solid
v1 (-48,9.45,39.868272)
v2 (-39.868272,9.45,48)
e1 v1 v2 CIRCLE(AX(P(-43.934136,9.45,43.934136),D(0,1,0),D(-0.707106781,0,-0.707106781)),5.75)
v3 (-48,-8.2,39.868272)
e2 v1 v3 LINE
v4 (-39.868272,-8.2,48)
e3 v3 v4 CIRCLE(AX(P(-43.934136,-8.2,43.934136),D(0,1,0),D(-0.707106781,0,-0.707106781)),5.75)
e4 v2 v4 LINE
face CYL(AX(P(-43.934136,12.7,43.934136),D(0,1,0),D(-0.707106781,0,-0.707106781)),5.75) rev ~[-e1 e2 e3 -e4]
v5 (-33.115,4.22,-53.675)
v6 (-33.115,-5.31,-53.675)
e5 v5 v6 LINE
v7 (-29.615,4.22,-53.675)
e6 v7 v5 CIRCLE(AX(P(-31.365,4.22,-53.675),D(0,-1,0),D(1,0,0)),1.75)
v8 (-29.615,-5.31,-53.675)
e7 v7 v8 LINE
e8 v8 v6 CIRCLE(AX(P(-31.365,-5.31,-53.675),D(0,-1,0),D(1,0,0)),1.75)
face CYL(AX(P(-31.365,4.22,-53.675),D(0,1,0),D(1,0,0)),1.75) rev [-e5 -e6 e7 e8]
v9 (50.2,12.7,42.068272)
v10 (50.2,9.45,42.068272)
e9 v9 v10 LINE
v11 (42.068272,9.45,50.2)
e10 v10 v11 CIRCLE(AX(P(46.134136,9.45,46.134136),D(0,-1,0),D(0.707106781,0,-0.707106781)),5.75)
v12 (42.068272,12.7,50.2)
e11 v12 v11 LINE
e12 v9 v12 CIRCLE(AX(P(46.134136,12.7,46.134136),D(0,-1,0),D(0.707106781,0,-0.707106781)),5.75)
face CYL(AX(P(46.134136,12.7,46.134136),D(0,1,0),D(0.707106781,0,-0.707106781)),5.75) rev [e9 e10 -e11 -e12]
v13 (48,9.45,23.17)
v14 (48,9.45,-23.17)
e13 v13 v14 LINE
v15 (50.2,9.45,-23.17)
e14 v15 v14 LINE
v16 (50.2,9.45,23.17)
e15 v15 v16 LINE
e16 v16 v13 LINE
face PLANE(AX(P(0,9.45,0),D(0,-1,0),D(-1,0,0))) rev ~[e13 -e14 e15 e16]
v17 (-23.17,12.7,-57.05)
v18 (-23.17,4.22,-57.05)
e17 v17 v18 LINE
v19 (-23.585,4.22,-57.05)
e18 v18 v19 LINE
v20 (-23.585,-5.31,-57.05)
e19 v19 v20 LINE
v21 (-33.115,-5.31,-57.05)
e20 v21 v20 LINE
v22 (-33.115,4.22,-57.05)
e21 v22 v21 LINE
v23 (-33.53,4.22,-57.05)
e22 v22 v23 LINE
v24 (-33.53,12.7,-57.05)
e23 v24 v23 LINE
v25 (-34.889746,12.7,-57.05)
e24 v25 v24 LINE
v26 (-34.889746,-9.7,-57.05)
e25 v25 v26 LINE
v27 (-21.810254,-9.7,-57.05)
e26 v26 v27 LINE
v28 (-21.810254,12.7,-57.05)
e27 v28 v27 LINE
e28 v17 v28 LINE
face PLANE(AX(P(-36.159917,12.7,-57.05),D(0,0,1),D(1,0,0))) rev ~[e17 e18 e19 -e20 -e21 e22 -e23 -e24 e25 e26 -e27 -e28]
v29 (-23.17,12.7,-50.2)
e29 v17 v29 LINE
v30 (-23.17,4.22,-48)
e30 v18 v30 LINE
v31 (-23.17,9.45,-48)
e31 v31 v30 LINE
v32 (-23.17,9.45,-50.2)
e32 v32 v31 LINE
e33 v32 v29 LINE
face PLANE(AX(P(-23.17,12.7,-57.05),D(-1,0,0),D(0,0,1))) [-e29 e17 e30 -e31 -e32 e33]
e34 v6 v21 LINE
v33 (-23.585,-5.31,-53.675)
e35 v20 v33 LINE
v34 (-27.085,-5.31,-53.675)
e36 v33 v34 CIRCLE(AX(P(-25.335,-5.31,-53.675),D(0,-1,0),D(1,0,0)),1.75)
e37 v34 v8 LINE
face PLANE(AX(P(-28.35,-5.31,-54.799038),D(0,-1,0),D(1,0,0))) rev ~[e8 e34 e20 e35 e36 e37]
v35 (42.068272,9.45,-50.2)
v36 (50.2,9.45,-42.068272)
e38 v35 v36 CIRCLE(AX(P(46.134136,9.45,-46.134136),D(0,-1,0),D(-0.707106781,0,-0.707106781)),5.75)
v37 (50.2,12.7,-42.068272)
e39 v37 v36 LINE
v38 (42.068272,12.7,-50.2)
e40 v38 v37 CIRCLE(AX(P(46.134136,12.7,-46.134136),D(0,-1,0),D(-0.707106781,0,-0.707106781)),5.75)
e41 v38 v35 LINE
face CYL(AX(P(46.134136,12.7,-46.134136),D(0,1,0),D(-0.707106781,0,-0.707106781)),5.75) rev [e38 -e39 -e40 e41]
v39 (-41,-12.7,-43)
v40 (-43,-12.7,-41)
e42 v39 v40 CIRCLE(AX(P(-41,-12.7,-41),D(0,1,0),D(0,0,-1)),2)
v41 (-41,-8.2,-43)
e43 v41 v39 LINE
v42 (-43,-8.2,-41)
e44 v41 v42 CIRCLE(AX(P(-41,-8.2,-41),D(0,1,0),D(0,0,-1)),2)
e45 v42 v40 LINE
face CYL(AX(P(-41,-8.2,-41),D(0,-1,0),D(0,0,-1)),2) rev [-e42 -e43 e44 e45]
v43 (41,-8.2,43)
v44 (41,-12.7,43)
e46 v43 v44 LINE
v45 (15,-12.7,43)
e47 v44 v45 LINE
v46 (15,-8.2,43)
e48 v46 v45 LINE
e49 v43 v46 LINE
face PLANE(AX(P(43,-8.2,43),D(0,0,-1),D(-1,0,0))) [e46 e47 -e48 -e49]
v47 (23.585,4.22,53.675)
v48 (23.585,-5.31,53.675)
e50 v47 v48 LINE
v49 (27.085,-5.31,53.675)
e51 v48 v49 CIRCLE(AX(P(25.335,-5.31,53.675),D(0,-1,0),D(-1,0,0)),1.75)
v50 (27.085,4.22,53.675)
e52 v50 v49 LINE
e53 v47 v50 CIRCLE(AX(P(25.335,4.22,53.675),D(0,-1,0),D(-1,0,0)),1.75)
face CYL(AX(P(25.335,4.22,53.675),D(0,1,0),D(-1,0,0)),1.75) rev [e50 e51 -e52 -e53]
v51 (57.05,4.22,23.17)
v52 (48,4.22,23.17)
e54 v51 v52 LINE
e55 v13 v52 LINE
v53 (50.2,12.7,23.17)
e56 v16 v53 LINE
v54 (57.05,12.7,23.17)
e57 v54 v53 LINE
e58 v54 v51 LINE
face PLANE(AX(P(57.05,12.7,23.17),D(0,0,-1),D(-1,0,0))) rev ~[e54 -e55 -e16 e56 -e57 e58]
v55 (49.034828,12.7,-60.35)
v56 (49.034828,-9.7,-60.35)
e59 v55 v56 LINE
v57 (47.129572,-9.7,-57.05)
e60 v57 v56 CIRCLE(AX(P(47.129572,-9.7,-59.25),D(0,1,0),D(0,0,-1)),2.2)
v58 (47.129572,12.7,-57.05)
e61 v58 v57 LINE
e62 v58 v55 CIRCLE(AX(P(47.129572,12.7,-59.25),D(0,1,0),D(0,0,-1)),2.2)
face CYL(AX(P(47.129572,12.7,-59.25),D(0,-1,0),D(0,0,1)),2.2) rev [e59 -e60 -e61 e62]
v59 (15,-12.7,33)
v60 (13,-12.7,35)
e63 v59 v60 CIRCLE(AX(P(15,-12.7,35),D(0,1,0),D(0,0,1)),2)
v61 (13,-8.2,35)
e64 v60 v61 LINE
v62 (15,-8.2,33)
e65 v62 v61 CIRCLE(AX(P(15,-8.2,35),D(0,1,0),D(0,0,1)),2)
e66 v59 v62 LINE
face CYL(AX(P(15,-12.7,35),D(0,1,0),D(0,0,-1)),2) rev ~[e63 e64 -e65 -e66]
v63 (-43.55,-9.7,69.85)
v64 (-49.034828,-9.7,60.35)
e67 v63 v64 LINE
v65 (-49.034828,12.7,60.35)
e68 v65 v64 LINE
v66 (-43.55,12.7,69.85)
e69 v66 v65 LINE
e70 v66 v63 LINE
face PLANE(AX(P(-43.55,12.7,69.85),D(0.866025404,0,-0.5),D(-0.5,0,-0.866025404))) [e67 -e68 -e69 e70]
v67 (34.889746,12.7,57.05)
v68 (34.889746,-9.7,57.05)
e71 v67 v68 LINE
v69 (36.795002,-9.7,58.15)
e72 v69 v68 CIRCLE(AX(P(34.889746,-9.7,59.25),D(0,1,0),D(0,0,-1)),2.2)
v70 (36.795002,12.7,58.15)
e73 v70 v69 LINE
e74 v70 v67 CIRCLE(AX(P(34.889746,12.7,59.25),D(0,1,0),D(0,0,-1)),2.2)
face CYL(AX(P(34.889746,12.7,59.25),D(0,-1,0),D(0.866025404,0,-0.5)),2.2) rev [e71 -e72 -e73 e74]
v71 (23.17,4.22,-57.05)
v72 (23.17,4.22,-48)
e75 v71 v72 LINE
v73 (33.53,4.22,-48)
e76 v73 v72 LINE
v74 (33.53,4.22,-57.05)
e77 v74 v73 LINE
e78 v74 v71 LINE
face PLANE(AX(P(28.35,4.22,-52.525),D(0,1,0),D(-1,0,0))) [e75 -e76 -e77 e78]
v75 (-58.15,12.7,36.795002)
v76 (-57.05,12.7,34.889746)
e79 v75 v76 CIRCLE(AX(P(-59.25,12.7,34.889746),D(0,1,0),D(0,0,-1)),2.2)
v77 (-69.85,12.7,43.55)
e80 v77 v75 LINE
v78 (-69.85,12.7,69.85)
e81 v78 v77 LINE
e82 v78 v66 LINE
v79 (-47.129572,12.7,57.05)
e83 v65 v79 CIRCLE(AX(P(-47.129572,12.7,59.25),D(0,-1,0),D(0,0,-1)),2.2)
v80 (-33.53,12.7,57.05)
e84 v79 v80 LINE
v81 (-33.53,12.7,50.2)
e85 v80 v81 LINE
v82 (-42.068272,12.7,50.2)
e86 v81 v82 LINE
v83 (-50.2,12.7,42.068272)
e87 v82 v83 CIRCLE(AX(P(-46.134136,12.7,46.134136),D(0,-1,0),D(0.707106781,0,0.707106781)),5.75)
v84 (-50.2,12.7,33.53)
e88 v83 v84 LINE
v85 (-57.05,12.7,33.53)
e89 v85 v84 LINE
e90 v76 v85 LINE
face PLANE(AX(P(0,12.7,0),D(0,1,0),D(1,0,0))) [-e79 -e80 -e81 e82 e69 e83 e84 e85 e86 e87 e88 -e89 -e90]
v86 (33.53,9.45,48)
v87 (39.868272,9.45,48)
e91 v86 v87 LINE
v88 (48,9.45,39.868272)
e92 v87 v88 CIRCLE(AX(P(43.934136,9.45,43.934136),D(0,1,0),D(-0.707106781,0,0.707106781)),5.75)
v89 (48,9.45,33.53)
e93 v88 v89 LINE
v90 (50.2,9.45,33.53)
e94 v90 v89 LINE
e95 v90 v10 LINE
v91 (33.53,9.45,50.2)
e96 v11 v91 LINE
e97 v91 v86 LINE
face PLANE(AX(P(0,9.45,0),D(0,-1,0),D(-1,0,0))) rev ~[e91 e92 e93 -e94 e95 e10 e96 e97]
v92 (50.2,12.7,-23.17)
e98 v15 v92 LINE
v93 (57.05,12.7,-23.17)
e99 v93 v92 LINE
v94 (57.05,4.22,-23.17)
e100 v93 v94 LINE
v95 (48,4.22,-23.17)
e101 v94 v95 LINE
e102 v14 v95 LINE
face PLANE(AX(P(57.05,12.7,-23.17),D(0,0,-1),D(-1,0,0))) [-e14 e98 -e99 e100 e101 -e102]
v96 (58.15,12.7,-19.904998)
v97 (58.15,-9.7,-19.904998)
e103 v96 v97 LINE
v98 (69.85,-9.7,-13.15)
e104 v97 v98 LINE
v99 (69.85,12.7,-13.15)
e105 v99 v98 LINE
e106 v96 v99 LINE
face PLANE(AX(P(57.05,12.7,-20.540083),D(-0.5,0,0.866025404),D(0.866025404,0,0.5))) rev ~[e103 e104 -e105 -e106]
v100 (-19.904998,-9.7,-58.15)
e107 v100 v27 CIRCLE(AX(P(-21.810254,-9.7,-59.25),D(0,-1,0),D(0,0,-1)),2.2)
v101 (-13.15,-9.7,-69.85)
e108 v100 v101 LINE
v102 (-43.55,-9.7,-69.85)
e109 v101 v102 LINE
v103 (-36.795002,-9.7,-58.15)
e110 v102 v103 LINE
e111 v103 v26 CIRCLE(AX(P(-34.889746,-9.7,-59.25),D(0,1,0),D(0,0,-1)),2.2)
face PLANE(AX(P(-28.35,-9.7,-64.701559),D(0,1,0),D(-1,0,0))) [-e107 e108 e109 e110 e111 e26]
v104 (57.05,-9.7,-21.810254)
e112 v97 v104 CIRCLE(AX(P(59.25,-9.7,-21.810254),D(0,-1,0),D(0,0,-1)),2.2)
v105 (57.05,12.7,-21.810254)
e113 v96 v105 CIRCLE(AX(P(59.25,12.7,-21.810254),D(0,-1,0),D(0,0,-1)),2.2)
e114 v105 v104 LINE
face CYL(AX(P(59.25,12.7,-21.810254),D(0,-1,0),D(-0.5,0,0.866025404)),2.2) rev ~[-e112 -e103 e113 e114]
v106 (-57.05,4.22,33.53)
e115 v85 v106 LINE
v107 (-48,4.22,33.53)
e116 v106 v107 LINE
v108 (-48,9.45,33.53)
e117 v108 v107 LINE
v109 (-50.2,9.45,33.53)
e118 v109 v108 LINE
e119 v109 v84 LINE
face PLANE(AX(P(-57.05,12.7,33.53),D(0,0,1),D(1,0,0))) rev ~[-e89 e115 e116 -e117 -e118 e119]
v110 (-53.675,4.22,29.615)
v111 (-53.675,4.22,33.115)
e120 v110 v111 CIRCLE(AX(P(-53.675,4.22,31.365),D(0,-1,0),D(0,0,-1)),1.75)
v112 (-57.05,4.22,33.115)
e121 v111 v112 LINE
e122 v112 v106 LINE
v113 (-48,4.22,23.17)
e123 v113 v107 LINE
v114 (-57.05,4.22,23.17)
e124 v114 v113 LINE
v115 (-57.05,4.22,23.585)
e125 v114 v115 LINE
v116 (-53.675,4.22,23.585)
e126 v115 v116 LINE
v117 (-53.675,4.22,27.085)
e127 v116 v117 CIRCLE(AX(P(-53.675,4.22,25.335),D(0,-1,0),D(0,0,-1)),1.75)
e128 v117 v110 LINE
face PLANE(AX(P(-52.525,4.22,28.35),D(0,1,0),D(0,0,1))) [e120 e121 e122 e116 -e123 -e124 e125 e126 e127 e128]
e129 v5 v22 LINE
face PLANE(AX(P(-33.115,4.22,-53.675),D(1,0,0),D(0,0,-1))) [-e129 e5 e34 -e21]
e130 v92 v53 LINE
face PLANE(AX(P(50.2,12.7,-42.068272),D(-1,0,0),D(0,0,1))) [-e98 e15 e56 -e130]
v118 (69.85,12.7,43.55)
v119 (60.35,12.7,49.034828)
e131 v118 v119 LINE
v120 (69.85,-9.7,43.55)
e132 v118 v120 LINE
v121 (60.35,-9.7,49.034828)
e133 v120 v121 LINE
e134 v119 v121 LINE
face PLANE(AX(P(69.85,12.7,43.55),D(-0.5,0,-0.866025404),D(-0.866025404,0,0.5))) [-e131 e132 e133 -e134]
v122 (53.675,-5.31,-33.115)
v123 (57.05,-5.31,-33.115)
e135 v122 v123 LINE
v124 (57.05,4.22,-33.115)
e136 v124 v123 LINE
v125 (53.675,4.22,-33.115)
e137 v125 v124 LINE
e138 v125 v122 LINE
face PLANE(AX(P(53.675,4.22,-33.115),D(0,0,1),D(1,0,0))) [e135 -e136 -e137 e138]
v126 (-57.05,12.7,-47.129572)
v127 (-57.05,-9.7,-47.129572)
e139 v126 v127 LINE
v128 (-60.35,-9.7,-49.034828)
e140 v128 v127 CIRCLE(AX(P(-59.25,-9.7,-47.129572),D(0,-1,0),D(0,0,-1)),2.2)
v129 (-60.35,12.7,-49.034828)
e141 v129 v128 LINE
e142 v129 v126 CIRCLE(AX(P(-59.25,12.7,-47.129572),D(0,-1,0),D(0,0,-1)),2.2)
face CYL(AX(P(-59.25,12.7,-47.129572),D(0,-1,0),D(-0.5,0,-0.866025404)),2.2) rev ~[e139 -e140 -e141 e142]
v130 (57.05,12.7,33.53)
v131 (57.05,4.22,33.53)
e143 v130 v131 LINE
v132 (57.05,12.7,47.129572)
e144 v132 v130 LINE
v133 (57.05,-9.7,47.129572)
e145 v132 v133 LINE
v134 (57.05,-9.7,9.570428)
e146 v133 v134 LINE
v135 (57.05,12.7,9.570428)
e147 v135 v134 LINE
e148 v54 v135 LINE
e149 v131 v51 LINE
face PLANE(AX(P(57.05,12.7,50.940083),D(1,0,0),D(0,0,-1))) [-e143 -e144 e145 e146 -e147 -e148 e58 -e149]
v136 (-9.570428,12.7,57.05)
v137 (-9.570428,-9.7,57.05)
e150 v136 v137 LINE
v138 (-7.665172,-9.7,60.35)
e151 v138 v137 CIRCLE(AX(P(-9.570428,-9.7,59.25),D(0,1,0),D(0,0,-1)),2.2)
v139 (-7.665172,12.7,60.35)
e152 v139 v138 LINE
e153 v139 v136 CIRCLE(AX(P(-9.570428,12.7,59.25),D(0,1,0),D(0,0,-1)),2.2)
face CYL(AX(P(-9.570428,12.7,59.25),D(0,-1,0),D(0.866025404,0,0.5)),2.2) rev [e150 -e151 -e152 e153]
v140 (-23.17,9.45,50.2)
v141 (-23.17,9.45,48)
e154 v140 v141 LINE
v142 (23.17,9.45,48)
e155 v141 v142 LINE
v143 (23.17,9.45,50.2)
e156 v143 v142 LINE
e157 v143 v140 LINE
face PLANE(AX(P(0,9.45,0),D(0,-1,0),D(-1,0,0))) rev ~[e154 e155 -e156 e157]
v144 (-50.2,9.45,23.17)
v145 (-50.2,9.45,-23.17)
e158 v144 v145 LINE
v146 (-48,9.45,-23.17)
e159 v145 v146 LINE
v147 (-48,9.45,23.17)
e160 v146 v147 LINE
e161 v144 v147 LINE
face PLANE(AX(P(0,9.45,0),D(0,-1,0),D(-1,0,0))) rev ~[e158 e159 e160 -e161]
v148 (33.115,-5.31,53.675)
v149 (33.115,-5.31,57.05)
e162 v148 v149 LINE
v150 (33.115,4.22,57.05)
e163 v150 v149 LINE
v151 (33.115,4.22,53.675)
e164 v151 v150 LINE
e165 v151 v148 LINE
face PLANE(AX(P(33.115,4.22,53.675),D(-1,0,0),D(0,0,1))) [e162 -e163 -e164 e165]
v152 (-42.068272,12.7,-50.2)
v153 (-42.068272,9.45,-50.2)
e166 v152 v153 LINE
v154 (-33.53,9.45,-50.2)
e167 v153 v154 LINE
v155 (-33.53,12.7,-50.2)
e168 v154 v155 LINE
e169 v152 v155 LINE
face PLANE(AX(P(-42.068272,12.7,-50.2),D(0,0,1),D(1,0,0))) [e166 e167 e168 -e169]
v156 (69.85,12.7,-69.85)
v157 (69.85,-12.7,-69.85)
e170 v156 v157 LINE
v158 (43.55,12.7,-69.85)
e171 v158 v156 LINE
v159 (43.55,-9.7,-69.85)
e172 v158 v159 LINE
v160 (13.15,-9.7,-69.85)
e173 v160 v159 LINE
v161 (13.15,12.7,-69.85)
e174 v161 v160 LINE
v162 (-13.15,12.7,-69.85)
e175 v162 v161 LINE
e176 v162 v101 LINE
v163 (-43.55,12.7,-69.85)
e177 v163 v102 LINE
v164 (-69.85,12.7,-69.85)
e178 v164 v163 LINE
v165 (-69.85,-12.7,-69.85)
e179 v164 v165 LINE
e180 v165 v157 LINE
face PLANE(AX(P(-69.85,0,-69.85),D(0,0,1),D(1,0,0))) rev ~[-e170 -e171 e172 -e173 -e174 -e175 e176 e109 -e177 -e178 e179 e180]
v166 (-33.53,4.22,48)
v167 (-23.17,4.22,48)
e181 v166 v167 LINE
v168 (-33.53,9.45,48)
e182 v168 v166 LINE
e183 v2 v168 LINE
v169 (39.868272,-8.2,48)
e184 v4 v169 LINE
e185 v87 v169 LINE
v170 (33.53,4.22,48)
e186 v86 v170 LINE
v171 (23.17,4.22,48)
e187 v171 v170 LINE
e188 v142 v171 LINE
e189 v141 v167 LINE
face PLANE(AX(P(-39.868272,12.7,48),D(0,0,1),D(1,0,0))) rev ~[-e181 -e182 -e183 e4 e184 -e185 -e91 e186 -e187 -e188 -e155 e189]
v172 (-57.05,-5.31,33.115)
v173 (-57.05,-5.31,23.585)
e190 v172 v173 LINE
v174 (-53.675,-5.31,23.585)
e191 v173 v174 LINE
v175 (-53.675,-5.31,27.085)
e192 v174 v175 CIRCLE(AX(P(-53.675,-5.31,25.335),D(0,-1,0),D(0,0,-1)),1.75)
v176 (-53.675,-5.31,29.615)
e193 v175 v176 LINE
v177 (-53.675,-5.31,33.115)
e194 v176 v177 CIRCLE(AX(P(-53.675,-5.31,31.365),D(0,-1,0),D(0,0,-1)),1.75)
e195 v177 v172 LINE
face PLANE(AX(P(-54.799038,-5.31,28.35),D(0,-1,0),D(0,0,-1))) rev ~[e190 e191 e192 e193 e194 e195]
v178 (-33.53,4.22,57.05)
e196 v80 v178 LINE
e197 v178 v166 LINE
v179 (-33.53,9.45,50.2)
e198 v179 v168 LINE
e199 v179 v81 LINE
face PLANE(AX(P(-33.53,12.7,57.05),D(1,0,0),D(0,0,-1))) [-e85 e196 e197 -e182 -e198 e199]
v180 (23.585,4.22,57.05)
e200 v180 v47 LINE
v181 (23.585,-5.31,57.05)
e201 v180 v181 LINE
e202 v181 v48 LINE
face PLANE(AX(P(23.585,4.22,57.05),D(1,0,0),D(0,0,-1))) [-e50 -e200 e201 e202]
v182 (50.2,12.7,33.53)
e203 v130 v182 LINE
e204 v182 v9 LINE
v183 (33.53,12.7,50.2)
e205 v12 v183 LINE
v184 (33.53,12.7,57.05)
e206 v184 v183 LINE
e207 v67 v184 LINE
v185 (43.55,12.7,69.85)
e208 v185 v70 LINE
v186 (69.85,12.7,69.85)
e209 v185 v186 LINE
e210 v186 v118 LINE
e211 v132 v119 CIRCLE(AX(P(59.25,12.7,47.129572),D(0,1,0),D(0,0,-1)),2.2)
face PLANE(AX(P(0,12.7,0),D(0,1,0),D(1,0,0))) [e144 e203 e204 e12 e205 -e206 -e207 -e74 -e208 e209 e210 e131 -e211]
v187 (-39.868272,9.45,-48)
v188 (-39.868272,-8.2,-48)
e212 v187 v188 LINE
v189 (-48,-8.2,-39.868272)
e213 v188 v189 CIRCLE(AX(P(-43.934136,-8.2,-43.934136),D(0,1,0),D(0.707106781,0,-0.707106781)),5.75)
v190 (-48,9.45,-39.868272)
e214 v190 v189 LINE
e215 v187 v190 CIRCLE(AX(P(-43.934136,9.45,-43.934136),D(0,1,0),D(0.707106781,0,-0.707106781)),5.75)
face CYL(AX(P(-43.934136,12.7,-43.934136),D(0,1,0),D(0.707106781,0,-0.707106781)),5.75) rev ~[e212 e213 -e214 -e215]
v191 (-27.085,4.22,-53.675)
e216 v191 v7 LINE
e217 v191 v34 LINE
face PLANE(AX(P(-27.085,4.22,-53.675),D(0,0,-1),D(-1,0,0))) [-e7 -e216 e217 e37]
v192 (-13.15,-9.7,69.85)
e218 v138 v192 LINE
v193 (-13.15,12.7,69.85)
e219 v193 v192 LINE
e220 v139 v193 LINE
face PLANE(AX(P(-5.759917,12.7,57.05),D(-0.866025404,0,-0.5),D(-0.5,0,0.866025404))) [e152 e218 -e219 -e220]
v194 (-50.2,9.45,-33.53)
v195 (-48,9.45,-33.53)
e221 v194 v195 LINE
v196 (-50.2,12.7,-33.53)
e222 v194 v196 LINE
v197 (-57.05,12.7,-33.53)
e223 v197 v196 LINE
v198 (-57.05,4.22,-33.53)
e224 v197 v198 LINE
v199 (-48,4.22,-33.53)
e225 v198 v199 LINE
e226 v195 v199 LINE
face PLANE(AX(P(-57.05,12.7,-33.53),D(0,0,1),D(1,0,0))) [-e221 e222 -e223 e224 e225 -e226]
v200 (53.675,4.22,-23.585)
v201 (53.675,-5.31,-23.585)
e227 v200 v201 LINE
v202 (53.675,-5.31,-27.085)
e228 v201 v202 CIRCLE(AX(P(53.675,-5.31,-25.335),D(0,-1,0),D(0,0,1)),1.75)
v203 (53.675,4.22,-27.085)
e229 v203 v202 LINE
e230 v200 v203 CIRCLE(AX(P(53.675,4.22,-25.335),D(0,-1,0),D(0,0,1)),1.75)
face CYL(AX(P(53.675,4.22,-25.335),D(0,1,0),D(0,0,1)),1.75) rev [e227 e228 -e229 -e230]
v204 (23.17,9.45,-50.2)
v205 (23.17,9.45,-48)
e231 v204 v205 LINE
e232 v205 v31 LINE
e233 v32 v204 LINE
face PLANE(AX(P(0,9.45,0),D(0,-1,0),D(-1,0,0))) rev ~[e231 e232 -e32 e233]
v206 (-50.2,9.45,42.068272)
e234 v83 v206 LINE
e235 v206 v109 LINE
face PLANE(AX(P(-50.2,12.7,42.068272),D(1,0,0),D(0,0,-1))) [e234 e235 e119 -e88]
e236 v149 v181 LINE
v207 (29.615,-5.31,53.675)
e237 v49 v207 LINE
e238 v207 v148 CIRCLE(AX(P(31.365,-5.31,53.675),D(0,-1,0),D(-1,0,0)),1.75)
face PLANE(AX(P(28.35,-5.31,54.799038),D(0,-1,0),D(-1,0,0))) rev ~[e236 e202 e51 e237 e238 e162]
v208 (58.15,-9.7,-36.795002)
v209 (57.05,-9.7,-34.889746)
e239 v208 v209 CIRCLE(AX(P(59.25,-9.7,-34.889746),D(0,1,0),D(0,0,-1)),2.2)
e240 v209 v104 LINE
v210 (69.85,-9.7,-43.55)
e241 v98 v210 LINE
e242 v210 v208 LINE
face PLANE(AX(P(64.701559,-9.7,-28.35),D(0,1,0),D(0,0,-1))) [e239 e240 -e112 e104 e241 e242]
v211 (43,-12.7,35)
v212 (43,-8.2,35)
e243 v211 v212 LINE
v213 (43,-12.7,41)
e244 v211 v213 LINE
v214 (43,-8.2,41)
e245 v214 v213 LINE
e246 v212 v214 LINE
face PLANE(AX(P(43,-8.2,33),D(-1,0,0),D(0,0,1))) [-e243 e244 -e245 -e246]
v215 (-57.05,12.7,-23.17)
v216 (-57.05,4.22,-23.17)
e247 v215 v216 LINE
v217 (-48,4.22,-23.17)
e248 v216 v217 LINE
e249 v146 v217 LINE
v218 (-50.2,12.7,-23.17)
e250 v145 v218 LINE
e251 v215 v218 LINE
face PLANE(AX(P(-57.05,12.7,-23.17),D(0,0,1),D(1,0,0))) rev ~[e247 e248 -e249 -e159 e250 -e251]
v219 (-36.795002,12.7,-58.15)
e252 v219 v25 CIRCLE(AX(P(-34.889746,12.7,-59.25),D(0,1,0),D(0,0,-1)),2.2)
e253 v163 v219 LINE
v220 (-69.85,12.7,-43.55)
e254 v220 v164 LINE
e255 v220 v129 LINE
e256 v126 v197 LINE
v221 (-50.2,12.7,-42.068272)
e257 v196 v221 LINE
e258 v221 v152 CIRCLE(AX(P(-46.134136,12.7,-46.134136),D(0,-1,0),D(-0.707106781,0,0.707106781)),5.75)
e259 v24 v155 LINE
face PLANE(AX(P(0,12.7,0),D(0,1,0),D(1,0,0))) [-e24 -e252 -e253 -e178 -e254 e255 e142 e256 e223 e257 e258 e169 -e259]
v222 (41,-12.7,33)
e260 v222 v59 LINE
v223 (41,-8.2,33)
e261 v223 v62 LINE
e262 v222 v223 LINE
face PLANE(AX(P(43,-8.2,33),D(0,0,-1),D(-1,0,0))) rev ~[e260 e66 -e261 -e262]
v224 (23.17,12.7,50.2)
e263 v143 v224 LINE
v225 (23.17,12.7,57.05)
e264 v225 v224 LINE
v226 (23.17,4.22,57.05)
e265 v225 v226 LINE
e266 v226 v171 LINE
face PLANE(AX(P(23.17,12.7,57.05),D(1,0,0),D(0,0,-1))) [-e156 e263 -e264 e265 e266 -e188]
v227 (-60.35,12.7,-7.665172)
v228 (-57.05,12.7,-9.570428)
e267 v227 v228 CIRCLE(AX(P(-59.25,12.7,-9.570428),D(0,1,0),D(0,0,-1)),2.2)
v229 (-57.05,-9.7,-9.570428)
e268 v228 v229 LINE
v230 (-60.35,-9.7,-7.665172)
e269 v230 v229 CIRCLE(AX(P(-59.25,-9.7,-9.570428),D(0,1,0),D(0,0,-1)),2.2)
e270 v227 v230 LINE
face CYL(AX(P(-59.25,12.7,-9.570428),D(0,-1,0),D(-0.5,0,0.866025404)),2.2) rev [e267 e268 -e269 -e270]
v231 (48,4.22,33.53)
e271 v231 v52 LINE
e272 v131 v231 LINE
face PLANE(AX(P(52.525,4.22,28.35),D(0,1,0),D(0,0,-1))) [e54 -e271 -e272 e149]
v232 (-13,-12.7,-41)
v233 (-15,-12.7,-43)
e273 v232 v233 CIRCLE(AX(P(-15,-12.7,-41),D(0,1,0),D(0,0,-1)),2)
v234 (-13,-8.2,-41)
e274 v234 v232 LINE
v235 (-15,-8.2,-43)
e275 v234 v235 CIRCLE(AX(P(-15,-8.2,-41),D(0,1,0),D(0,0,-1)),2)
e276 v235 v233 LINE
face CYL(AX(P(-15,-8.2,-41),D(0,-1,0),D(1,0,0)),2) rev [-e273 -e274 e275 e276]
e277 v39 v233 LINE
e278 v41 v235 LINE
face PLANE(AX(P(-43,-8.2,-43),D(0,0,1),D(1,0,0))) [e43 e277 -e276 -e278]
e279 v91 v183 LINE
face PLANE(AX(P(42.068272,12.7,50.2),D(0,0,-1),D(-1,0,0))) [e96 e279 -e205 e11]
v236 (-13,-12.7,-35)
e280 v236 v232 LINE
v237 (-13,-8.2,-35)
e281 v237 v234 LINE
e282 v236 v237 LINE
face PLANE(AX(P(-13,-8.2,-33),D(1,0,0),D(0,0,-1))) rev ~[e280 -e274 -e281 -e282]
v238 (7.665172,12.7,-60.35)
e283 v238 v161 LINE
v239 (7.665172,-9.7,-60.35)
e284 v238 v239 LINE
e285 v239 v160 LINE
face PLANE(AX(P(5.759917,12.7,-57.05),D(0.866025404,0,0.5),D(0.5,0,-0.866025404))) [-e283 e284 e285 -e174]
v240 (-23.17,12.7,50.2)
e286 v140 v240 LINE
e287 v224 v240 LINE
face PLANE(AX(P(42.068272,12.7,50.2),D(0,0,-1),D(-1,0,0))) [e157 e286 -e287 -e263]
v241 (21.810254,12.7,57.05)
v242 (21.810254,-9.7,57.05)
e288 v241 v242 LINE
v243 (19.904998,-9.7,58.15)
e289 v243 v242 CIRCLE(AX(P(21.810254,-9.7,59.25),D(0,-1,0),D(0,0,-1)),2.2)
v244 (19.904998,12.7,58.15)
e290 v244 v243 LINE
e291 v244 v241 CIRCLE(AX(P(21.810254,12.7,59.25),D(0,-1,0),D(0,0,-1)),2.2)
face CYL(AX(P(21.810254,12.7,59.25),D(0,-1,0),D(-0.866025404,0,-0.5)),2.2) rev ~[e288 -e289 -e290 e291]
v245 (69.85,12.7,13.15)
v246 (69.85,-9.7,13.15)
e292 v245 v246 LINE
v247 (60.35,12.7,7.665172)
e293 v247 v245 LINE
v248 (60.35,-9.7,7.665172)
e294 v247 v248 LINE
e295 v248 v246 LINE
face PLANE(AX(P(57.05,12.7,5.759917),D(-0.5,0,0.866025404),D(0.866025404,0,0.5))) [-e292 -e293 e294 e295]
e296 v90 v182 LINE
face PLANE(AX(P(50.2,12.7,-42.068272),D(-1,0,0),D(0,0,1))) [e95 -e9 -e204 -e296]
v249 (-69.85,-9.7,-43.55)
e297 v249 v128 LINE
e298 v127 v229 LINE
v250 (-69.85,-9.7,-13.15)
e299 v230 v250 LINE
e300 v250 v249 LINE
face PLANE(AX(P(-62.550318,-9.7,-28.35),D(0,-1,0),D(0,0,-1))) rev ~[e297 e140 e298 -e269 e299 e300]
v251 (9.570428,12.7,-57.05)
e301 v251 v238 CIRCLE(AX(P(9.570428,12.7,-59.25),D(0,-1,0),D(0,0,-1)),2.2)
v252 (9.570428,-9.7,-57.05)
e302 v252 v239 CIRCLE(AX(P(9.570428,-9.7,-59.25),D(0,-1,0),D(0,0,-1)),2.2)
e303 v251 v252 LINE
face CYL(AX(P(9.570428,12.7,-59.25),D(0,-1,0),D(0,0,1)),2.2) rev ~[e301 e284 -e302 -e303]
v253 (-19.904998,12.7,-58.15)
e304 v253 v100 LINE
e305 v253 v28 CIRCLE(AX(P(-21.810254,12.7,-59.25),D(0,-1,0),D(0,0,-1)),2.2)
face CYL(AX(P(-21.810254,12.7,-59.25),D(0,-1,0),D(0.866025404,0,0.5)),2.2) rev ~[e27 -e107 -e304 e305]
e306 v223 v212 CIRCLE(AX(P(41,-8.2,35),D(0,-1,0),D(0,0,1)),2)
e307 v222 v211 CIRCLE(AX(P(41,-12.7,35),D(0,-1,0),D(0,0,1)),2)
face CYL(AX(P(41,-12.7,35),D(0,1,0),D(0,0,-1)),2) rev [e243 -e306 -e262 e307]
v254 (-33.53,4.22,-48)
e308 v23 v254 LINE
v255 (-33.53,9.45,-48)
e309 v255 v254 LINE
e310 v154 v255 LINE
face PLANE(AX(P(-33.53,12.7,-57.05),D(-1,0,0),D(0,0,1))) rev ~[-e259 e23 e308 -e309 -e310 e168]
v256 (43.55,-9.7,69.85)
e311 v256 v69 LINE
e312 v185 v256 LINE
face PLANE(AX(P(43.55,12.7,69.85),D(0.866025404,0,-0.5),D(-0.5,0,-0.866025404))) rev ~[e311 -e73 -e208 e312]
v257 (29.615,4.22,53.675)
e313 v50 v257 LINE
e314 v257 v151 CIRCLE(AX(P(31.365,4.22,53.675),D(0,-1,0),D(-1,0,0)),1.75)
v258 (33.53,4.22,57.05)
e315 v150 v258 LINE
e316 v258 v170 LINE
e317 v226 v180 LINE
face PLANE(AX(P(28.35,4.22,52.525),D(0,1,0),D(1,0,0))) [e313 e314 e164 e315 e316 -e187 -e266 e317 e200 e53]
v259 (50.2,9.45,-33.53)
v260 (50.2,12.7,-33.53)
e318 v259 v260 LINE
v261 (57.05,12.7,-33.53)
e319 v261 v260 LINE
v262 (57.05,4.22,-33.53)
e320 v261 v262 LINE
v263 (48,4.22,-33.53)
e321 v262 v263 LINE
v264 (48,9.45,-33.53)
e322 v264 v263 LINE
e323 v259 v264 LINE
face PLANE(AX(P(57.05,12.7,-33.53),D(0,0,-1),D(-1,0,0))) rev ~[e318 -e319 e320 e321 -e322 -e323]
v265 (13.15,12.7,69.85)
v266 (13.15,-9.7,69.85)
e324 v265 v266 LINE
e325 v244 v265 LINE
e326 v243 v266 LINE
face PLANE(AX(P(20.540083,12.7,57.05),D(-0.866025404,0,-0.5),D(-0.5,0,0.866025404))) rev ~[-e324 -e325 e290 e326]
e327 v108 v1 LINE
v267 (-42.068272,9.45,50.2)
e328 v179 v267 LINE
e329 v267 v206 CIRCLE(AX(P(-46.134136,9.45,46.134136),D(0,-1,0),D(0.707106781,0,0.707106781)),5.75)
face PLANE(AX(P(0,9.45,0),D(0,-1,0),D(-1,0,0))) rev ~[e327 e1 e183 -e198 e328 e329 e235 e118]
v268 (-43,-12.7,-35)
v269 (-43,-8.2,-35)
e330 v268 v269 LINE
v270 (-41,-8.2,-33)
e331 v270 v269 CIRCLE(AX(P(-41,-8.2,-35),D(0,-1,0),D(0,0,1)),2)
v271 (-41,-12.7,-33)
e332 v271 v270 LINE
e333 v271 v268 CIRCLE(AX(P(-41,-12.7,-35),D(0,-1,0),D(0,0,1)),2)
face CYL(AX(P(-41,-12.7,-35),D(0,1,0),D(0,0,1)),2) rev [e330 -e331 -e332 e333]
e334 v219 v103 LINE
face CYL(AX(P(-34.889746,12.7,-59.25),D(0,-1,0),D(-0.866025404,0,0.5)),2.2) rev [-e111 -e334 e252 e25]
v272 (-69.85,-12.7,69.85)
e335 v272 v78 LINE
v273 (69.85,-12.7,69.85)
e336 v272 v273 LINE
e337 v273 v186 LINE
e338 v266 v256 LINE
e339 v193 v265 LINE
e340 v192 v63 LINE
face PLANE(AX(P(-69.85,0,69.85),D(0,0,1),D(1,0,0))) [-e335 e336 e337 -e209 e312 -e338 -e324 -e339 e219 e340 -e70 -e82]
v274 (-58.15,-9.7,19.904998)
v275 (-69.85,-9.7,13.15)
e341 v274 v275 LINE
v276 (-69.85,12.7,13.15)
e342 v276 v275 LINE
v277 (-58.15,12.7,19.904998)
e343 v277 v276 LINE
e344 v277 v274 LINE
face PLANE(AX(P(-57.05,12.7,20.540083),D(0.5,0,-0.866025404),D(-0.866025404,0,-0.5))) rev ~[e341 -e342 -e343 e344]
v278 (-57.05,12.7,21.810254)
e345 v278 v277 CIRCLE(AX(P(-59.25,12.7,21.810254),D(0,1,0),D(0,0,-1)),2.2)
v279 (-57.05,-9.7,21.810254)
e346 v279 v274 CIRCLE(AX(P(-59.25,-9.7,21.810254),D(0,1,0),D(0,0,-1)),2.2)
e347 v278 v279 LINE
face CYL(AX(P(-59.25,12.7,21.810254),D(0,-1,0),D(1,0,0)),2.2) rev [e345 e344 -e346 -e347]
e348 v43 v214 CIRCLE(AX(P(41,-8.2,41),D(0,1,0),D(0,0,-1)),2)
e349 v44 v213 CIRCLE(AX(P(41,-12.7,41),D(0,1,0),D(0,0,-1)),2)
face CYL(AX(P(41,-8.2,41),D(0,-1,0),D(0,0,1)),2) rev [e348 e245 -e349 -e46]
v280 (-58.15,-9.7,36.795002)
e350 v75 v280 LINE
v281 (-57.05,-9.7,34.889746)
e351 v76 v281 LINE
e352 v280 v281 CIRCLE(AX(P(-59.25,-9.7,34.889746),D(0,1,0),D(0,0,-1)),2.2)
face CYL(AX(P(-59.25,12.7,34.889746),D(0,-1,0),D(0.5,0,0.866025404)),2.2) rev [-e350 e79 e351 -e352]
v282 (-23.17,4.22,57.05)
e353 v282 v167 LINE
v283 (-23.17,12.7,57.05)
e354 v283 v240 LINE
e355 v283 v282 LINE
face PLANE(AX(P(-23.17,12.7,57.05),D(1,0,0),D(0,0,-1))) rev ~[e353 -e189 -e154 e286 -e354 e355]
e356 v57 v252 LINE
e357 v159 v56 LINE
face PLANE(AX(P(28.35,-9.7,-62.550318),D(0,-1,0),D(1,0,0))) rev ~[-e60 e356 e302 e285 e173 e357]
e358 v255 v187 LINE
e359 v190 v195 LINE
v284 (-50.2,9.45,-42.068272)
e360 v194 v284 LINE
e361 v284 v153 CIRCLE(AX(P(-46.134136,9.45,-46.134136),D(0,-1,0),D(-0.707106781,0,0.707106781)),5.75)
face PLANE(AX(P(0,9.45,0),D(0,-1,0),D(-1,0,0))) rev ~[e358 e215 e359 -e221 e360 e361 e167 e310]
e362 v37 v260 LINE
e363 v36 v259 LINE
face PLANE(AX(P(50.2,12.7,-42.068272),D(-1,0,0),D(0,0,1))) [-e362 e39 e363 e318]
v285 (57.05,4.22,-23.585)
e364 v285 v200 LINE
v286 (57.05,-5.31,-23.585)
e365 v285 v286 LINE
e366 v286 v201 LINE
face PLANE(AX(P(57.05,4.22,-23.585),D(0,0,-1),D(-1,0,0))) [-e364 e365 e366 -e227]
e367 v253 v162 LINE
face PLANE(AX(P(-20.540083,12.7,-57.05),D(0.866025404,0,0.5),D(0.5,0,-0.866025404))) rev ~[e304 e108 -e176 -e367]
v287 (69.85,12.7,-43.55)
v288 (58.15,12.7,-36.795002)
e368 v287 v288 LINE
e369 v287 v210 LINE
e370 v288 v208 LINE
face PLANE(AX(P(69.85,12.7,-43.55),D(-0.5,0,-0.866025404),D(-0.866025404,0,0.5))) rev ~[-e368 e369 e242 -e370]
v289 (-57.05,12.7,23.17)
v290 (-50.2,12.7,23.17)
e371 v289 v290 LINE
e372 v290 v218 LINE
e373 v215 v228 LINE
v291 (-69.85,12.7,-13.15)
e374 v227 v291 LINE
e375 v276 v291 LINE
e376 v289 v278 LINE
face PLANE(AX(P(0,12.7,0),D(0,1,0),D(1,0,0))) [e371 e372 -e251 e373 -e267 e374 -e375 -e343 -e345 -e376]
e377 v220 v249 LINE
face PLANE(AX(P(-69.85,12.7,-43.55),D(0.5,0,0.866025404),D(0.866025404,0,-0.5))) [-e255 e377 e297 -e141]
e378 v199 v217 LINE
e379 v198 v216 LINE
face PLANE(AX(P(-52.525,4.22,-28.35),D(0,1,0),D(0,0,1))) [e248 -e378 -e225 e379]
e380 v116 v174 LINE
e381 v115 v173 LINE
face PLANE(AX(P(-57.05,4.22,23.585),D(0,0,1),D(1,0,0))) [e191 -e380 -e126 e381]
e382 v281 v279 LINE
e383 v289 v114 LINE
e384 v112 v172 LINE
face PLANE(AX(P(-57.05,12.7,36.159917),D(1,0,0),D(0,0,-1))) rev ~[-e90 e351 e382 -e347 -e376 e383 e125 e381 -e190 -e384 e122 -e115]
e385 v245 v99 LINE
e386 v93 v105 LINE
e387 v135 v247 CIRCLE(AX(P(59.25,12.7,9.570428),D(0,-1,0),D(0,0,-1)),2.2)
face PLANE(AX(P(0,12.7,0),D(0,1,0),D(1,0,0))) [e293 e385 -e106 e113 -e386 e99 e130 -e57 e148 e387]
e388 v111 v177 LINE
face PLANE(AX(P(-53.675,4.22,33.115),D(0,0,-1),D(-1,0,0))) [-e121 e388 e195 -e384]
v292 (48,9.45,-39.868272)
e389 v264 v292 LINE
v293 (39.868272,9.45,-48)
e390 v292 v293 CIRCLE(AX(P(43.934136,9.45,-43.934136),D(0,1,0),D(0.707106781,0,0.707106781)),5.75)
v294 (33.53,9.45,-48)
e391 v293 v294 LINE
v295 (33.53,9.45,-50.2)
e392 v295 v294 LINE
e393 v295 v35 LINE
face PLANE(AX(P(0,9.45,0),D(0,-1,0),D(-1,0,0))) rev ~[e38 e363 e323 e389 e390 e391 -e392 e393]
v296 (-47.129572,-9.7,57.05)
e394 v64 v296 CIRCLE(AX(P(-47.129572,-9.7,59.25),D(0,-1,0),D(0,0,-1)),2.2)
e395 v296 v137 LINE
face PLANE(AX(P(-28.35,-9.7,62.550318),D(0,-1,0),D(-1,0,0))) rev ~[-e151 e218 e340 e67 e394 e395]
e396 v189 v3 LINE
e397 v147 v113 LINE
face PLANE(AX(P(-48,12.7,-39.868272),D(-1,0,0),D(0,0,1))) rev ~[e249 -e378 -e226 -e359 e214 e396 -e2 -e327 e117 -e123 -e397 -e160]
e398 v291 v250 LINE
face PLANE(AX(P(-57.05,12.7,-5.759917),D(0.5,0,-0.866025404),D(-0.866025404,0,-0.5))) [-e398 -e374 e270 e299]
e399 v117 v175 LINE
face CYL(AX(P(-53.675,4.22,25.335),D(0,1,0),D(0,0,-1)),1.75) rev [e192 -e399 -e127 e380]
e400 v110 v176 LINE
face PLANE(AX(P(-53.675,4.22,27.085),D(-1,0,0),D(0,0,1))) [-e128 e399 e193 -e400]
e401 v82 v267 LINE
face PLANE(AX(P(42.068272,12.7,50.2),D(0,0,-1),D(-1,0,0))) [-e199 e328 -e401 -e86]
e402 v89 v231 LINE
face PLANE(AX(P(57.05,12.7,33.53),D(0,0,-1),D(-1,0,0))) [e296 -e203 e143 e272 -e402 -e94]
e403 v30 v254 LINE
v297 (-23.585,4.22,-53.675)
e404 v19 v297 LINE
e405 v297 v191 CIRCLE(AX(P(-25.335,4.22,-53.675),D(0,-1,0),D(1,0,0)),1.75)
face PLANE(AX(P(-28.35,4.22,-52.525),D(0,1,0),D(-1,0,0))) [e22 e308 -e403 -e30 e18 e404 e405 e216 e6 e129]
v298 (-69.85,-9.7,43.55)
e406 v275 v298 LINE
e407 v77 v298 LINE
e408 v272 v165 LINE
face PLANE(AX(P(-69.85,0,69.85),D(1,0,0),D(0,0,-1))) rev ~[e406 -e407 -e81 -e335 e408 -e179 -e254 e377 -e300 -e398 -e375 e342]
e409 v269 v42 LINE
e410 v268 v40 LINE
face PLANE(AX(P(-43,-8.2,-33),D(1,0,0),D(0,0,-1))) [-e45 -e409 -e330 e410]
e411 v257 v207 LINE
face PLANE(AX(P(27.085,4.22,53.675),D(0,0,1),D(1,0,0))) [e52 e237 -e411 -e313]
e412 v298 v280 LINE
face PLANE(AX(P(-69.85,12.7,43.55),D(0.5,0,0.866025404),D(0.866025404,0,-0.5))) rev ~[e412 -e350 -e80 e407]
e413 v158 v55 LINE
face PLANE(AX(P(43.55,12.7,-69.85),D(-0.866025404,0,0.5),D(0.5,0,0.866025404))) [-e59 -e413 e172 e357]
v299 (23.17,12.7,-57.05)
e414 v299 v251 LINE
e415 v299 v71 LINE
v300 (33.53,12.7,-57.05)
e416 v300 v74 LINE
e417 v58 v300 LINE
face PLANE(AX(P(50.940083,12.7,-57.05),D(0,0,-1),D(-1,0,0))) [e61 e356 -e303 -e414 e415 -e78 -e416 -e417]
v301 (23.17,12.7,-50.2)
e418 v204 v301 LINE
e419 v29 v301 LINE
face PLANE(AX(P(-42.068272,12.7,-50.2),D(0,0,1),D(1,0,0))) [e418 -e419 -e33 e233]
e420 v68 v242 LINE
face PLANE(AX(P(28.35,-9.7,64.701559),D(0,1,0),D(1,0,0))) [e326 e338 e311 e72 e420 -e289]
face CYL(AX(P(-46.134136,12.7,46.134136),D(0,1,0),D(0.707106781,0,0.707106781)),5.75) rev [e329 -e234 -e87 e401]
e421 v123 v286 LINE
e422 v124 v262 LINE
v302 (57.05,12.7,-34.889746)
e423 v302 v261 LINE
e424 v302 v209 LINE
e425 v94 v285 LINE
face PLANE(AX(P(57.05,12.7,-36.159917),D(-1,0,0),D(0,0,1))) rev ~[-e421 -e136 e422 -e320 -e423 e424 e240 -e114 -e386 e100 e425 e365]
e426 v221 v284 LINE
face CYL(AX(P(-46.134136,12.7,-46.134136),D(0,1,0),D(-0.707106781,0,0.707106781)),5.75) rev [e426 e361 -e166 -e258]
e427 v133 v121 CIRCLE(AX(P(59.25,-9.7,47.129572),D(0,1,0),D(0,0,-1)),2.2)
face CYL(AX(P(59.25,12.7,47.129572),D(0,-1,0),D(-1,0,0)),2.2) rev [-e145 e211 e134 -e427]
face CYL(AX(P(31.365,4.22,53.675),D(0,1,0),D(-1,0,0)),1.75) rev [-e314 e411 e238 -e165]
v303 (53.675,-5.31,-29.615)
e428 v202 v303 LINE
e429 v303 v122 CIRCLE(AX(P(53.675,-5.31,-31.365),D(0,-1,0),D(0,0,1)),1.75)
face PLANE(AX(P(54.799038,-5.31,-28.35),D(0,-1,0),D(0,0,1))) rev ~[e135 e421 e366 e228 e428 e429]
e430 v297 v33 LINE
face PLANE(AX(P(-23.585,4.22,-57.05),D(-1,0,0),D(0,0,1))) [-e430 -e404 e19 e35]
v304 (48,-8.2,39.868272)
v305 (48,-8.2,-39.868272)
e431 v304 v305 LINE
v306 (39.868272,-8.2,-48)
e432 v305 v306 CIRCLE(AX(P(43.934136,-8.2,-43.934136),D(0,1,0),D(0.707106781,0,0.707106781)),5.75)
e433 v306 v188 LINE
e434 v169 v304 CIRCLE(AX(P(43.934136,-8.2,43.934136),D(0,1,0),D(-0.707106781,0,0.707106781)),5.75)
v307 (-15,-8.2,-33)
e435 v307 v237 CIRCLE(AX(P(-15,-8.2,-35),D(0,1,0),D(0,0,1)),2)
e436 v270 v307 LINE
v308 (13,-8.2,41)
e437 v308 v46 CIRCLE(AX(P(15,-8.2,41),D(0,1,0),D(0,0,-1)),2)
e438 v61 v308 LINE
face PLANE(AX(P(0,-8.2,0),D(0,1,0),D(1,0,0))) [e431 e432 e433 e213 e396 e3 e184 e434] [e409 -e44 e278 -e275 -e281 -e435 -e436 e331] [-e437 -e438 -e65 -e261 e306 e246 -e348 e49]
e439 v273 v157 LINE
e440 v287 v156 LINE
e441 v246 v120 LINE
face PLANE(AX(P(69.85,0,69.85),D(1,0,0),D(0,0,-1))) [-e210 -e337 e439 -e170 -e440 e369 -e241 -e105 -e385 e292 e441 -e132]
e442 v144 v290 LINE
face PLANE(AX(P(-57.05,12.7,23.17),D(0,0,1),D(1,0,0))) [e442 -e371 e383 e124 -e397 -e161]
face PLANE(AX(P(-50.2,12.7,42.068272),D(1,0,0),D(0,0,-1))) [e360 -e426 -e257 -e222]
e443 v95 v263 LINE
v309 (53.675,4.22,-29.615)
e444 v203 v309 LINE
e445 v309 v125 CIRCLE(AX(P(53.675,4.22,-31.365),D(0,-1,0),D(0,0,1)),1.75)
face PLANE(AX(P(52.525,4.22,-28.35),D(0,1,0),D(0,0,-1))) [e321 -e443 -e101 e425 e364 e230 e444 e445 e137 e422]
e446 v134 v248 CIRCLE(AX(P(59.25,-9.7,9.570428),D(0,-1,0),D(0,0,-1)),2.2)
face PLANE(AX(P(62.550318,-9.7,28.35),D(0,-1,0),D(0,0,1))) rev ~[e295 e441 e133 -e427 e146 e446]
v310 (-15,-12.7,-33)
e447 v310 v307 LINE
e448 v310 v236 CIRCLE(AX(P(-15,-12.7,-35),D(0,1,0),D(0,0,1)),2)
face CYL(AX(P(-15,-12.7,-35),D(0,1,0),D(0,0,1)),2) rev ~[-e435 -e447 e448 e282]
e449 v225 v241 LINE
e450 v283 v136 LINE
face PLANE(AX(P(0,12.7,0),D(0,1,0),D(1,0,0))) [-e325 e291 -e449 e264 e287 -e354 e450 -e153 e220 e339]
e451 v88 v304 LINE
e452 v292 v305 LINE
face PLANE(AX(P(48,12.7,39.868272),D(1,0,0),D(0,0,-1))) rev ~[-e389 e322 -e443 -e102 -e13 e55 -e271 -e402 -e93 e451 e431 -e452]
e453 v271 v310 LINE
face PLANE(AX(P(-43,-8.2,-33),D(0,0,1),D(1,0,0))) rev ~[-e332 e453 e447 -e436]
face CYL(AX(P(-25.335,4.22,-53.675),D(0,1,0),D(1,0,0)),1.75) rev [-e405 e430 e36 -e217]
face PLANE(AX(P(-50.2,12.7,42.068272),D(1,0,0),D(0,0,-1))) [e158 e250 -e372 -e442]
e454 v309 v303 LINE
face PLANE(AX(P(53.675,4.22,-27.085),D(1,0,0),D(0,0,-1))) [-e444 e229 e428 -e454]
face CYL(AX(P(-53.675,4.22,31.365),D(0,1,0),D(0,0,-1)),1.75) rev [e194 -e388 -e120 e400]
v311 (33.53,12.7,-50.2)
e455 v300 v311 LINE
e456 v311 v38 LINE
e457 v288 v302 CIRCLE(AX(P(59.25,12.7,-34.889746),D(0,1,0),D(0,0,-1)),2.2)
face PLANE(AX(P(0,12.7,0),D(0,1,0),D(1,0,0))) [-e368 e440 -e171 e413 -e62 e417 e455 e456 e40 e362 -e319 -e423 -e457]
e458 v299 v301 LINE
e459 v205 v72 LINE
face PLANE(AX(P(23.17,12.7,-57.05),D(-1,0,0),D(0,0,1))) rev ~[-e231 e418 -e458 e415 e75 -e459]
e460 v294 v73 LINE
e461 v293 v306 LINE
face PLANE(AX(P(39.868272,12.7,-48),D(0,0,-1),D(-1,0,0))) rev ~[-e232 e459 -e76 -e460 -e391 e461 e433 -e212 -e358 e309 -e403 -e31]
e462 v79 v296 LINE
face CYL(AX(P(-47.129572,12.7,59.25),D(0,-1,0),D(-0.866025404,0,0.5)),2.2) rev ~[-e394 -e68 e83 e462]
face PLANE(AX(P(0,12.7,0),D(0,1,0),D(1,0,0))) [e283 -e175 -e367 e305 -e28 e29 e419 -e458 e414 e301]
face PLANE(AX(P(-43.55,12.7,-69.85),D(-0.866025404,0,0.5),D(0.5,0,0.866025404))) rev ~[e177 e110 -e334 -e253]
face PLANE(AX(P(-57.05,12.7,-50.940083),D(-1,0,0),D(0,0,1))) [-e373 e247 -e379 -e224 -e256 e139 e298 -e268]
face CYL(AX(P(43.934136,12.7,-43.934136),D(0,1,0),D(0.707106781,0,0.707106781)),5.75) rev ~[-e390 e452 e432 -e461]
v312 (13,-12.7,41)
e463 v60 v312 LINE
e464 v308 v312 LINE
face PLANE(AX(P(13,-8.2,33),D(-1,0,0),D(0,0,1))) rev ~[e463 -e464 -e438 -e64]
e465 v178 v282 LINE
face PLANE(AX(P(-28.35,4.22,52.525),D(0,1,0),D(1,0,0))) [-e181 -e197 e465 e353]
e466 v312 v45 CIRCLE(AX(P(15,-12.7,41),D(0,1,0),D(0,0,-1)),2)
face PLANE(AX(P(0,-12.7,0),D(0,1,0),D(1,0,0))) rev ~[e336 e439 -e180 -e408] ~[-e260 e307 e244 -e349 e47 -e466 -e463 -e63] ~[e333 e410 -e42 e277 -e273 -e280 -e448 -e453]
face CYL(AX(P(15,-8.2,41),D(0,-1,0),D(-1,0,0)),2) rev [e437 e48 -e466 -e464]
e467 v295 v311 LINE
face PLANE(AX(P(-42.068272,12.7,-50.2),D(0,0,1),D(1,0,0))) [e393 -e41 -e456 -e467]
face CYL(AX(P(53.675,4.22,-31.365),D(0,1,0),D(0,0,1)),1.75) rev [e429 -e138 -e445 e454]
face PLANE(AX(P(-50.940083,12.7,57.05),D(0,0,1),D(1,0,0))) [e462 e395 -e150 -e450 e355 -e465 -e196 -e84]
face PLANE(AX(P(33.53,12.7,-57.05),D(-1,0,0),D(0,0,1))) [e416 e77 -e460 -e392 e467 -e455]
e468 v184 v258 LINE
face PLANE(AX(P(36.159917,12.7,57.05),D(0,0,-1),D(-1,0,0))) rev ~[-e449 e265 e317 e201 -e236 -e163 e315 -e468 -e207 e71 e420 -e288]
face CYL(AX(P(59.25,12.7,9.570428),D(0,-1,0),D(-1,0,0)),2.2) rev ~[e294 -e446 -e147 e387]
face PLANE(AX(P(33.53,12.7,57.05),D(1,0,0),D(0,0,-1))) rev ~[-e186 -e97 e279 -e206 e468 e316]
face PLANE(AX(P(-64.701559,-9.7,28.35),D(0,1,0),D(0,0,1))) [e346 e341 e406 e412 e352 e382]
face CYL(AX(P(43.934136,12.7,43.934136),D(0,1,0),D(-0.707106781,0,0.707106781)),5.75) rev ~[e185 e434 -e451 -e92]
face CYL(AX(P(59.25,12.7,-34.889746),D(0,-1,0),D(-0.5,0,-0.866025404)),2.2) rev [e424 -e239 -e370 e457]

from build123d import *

# Parameters (mm, degrees)
SKETCH1_W                          = 139.7
SKETCH1_H                          = 139.7
BOSS_EXTRUDE1_DEPTH                = 12.7
POWER_SUPPLY_COMPONENT_DEPTH_DEPTH = 20.9
CUT_EXTRUDE6_DEPTH                 = 22.4
SKETCH8_W                          = 10.36
SKETCH8_H                          = 9.05
CUT_EXTRUDE7_DEPTH                 = 8.48
CUT_EXTRUDE8_DEPTH                 = 9.53
FILLET2_R                          = 2.2
CIRPATTERN5_COUNT                  = 4
FILLET2_OF_CIRPATTERN5_R           = 2.2
CUT_EXTRUDE9_DEPTH                 = 3.25
SKETCH12_W                         = 30
SKETCH12_H                         = 10
CUT_EXTRUDE10_DEPTH                = 101.969574625
FILLET5_R                          = 2
CIRPATTERN6_COUNT                  = 2
FILLET5_OF_CIRPATTERN6_R           = 2


with BuildPart() as part:
    # Sketch1 → Boss-Extrude1 (new, symmetric)
    with BuildSketch(Plane(origin=(0, 0, 0), x_dir=(1, 0, 0), z_dir=(0, 1, 0))):
        Rectangle(SKETCH1_W, SKETCH1_H)
    extrude(amount=BOSS_EXTRUDE1_DEPTH, both=True)

    # Sketch6 → power_supply_component_depth (cut)
    with BuildSketch(Plane(origin=(0, 12.7, 0), x_dir=(1, 0, 0), z_dir=(0, 1, 0))):
        with BuildLine():
            Line((-48, 39.868272016), (-48, -39.868272016))
            ThreePointArc((-48, -39.868272016), (-48, -48), (-39.868272016, -48))
            Line((-39.868272016, -48), (39.868272016, -48))
            ThreePointArc((39.868272016, -48), (48, -48), (48, -39.868272016))
            Line((48, -39.868272016), (48, 39.868272016))
            ThreePointArc((48, 39.868272016), (48, 48), (39.868272016, 48))
            Line((39.868272016, 48), (-39.868272016, 48))
            ThreePointArc((-39.868272016, 48), (-48, 48), (-48, 39.868272016))
        make_face()
    extrude(amount=-POWER_SUPPLY_COMPONENT_DEPTH_DEPTH, mode=Mode.SUBTRACT)

    # Sketch4 → Cut-Extrude6 (cut)
    with BuildSketch(Plane(origin=(0, 12.7, 0), x_dir=(1, 0, 0), z_dir=(0, 1, 0))):
        Polygon((-43.55, -69.85), (-50.940083446, -57.05), (-5.759916554, -57.05), (-13.15, -69.85), align=None)
        Polygon((43.55, -69.85), (36.159916554, -57.05), (20.540083446, -57.05), (13.15, -69.85), align=None)
    cut_extrude6 = extrude(amount=-CUT_EXTRUDE6_DEPTH, mode=Mode.SUBTRACT)

    # Sketch8 → Cut-Extrude7 (cut)
    with BuildSketch(Plane(origin=(0, 12.7, 0), x_dir=(1, 0, 0), z_dir=(0, 1, 0))):
        with Locations((-28.35, -52.525)):
            Rectangle(SKETCH8_W, SKETCH8_H)
        with Locations((28.35, -52.525)):
            Rectangle(SKETCH8_W, SKETCH8_H)
    cut_extrude7 = extrude(amount=-CUT_EXTRUDE7_DEPTH, mode=Mode.SUBTRACT)

    # Sketch9 → Cut-Extrude8 (cut)
    with BuildSketch(Plane(origin=(0, 4.22, 0), x_dir=(1, 0, 0), z_dir=(0, 1, 0))):
        with BuildLine():
            Line((27.085, -53.675), (29.615, -53.675))
            ThreePointArc((29.615, -53.675), (31.365, -51.925), (33.115, -53.675))
            Line((33.115, -53.675), (33.115, -57.05))
            Line((33.115, -57.05), (23.585, -57.05))
            Line((23.585, -57.05), (23.585, -53.675))
            ThreePointArc((23.585, -53.675), (25.335, -51.925), (27.085, -53.675))
        make_face()
    cut_extrude8 = extrude(amount=-CUT_EXTRUDE8_DEPTH, mode=Mode.SUBTRACT)

    # Fillet2
    fillet2_edges = [part.edges().sort_by_distance(p)[0] for p in [
        (-5.759916554, 1.5, 57.05),
        (-50.940083446, 1.5, 57.05),
        (36.159916554, 1.5, 57.05),
        (20.540083446, 1.5, 57.05),
    ]]
    fillet(fillet2_edges, radius=FILLET2_R)

    # CirPattern5: Cut-Extrude6, Cut-Extrude7, Cut-Extrude8 ×4 about axis
    cirpattern5_axis = Axis((0, 0, 0), (0, 1, 0))
    add([cut_extrude6.rotate(cirpattern5_axis, i * 360 / CIRPATTERN5_COUNT) for i in range(1, CIRPATTERN5_COUNT)], mode=Mode.SUBTRACT)
    add([cut_extrude7.rotate(cirpattern5_axis, i * 360 / CIRPATTERN5_COUNT) for i in range(1, CIRPATTERN5_COUNT)], mode=Mode.SUBTRACT)
    add([cut_extrude8.rotate(cirpattern5_axis, i * 360 / CIRPATTERN5_COUNT) for i in range(1, CIRPATTERN5_COUNT)], mode=Mode.SUBTRACT)

    # Fillet2 of CirPattern5
    fillet2_of_cirpattern5_edges = [part.edges().sort_by_distance(p)[0] for p in [
        (57.05, 1.5, 5.759916554),
        (57.05, 1.5, 50.940083446),
        (57.05, 1.5, -36.159916554),
        (57.05, 1.5, -20.540083446),
        (5.759916554, 1.5, -57.05),
        (50.940083446, 1.5, -57.05),
        (-36.159916554, 1.5, -57.05),
        (-20.540083446, 1.5, -57.05),
        (-57.05, 1.5, -5.759916554),
        (-57.05, 1.5, -50.940083446),
        (-57.05, 1.5, 36.159916554),
        (-57.05, 1.5, 20.540083446),
    ]]
    fillet(fillet2_of_cirpattern5_edges, radius=FILLET2_OF_CIRPATTERN5_R)

    # Sketch10 → Cut-Extrude9 (cut)
    with BuildSketch(Plane(origin=(0, 12.7, 0), x_dir=(1, 0, 0), z_dir=(0, 1, 0))):
        with BuildLine():
            Line((-42.068272016, 50.2), (42.068272016, 50.2))
            ThreePointArc((42.068272016, 50.2), (50.2, 50.2), (50.2, 42.068272016))
            Line((50.2, 42.068272016), (50.2, -42.068272016))
            ThreePointArc((50.2, -42.068272016), (50.2, -50.2), (42.068272016, -50.2))
            Line((42.068272016, -50.2), (-42.068272016, -50.2))
            ThreePointArc((-42.068272016, -50.2), (-50.2, -50.2), (-50.2, -42.068272016))
            Line((-50.2, -42.068272016), (-50.2, 42.068272016))
            ThreePointArc((-50.2, 42.068272016), (-50.2, 50.2), (-42.068272016, 50.2))
        make_face()
    extrude(amount=-CUT_EXTRUDE9_DEPTH, mode=Mode.SUBTRACT)

    # Sketch12 → Cut-Extrude10 (cut, symmetric)
    with BuildSketch(Plane(origin=(0, -8.2, 0), x_dir=(1, 0, 0), z_dir=(0, 1, 0))):
        with Locations((-28, 38)):
            Rectangle(SKETCH12_W, SKETCH12_H)
    cut_extrude10 = extrude(amount=CUT_EXTRUDE10_DEPTH, both=True, mode=Mode.SUBTRACT)

    # Fillet5
    fillet5_edges = [part.edges().sort_by_distance(p)[0] for p in [
        (-43, -10.45, -33),
        (-43, -10.45, -43),
        (-13, -10.45, -43),
        (-13, -10.45, -33),
    ]]
    fillet(fillet5_edges, radius=FILLET5_R)

    # CirPattern6: Cut-Extrude10 ×2 about axis
    cirpattern6_axis = Axis((0, 0, 0), (0, 1, 0))
    for i in range(1, CIRPATTERN6_COUNT):
        add(cut_extrude10.rotate(cirpattern6_axis, i * 360 / CIRPATTERN6_COUNT), mode=Mode.SUBTRACT)

    # Fillet5 of CirPattern6
    fillet5_of_cirpattern6_edges = [part.edges().sort_by_distance(p)[0] for p in [
        (43, -10.45, 33),
        (43, -10.45, 43),
        (13, -10.45, 43),
        (13, -10.45, 33),
    ]]
    fillet(fillet5_of_cirpattern6_edges, radius=FILLET5_OF_CIRPATTERN6_R)


solid = part.part
